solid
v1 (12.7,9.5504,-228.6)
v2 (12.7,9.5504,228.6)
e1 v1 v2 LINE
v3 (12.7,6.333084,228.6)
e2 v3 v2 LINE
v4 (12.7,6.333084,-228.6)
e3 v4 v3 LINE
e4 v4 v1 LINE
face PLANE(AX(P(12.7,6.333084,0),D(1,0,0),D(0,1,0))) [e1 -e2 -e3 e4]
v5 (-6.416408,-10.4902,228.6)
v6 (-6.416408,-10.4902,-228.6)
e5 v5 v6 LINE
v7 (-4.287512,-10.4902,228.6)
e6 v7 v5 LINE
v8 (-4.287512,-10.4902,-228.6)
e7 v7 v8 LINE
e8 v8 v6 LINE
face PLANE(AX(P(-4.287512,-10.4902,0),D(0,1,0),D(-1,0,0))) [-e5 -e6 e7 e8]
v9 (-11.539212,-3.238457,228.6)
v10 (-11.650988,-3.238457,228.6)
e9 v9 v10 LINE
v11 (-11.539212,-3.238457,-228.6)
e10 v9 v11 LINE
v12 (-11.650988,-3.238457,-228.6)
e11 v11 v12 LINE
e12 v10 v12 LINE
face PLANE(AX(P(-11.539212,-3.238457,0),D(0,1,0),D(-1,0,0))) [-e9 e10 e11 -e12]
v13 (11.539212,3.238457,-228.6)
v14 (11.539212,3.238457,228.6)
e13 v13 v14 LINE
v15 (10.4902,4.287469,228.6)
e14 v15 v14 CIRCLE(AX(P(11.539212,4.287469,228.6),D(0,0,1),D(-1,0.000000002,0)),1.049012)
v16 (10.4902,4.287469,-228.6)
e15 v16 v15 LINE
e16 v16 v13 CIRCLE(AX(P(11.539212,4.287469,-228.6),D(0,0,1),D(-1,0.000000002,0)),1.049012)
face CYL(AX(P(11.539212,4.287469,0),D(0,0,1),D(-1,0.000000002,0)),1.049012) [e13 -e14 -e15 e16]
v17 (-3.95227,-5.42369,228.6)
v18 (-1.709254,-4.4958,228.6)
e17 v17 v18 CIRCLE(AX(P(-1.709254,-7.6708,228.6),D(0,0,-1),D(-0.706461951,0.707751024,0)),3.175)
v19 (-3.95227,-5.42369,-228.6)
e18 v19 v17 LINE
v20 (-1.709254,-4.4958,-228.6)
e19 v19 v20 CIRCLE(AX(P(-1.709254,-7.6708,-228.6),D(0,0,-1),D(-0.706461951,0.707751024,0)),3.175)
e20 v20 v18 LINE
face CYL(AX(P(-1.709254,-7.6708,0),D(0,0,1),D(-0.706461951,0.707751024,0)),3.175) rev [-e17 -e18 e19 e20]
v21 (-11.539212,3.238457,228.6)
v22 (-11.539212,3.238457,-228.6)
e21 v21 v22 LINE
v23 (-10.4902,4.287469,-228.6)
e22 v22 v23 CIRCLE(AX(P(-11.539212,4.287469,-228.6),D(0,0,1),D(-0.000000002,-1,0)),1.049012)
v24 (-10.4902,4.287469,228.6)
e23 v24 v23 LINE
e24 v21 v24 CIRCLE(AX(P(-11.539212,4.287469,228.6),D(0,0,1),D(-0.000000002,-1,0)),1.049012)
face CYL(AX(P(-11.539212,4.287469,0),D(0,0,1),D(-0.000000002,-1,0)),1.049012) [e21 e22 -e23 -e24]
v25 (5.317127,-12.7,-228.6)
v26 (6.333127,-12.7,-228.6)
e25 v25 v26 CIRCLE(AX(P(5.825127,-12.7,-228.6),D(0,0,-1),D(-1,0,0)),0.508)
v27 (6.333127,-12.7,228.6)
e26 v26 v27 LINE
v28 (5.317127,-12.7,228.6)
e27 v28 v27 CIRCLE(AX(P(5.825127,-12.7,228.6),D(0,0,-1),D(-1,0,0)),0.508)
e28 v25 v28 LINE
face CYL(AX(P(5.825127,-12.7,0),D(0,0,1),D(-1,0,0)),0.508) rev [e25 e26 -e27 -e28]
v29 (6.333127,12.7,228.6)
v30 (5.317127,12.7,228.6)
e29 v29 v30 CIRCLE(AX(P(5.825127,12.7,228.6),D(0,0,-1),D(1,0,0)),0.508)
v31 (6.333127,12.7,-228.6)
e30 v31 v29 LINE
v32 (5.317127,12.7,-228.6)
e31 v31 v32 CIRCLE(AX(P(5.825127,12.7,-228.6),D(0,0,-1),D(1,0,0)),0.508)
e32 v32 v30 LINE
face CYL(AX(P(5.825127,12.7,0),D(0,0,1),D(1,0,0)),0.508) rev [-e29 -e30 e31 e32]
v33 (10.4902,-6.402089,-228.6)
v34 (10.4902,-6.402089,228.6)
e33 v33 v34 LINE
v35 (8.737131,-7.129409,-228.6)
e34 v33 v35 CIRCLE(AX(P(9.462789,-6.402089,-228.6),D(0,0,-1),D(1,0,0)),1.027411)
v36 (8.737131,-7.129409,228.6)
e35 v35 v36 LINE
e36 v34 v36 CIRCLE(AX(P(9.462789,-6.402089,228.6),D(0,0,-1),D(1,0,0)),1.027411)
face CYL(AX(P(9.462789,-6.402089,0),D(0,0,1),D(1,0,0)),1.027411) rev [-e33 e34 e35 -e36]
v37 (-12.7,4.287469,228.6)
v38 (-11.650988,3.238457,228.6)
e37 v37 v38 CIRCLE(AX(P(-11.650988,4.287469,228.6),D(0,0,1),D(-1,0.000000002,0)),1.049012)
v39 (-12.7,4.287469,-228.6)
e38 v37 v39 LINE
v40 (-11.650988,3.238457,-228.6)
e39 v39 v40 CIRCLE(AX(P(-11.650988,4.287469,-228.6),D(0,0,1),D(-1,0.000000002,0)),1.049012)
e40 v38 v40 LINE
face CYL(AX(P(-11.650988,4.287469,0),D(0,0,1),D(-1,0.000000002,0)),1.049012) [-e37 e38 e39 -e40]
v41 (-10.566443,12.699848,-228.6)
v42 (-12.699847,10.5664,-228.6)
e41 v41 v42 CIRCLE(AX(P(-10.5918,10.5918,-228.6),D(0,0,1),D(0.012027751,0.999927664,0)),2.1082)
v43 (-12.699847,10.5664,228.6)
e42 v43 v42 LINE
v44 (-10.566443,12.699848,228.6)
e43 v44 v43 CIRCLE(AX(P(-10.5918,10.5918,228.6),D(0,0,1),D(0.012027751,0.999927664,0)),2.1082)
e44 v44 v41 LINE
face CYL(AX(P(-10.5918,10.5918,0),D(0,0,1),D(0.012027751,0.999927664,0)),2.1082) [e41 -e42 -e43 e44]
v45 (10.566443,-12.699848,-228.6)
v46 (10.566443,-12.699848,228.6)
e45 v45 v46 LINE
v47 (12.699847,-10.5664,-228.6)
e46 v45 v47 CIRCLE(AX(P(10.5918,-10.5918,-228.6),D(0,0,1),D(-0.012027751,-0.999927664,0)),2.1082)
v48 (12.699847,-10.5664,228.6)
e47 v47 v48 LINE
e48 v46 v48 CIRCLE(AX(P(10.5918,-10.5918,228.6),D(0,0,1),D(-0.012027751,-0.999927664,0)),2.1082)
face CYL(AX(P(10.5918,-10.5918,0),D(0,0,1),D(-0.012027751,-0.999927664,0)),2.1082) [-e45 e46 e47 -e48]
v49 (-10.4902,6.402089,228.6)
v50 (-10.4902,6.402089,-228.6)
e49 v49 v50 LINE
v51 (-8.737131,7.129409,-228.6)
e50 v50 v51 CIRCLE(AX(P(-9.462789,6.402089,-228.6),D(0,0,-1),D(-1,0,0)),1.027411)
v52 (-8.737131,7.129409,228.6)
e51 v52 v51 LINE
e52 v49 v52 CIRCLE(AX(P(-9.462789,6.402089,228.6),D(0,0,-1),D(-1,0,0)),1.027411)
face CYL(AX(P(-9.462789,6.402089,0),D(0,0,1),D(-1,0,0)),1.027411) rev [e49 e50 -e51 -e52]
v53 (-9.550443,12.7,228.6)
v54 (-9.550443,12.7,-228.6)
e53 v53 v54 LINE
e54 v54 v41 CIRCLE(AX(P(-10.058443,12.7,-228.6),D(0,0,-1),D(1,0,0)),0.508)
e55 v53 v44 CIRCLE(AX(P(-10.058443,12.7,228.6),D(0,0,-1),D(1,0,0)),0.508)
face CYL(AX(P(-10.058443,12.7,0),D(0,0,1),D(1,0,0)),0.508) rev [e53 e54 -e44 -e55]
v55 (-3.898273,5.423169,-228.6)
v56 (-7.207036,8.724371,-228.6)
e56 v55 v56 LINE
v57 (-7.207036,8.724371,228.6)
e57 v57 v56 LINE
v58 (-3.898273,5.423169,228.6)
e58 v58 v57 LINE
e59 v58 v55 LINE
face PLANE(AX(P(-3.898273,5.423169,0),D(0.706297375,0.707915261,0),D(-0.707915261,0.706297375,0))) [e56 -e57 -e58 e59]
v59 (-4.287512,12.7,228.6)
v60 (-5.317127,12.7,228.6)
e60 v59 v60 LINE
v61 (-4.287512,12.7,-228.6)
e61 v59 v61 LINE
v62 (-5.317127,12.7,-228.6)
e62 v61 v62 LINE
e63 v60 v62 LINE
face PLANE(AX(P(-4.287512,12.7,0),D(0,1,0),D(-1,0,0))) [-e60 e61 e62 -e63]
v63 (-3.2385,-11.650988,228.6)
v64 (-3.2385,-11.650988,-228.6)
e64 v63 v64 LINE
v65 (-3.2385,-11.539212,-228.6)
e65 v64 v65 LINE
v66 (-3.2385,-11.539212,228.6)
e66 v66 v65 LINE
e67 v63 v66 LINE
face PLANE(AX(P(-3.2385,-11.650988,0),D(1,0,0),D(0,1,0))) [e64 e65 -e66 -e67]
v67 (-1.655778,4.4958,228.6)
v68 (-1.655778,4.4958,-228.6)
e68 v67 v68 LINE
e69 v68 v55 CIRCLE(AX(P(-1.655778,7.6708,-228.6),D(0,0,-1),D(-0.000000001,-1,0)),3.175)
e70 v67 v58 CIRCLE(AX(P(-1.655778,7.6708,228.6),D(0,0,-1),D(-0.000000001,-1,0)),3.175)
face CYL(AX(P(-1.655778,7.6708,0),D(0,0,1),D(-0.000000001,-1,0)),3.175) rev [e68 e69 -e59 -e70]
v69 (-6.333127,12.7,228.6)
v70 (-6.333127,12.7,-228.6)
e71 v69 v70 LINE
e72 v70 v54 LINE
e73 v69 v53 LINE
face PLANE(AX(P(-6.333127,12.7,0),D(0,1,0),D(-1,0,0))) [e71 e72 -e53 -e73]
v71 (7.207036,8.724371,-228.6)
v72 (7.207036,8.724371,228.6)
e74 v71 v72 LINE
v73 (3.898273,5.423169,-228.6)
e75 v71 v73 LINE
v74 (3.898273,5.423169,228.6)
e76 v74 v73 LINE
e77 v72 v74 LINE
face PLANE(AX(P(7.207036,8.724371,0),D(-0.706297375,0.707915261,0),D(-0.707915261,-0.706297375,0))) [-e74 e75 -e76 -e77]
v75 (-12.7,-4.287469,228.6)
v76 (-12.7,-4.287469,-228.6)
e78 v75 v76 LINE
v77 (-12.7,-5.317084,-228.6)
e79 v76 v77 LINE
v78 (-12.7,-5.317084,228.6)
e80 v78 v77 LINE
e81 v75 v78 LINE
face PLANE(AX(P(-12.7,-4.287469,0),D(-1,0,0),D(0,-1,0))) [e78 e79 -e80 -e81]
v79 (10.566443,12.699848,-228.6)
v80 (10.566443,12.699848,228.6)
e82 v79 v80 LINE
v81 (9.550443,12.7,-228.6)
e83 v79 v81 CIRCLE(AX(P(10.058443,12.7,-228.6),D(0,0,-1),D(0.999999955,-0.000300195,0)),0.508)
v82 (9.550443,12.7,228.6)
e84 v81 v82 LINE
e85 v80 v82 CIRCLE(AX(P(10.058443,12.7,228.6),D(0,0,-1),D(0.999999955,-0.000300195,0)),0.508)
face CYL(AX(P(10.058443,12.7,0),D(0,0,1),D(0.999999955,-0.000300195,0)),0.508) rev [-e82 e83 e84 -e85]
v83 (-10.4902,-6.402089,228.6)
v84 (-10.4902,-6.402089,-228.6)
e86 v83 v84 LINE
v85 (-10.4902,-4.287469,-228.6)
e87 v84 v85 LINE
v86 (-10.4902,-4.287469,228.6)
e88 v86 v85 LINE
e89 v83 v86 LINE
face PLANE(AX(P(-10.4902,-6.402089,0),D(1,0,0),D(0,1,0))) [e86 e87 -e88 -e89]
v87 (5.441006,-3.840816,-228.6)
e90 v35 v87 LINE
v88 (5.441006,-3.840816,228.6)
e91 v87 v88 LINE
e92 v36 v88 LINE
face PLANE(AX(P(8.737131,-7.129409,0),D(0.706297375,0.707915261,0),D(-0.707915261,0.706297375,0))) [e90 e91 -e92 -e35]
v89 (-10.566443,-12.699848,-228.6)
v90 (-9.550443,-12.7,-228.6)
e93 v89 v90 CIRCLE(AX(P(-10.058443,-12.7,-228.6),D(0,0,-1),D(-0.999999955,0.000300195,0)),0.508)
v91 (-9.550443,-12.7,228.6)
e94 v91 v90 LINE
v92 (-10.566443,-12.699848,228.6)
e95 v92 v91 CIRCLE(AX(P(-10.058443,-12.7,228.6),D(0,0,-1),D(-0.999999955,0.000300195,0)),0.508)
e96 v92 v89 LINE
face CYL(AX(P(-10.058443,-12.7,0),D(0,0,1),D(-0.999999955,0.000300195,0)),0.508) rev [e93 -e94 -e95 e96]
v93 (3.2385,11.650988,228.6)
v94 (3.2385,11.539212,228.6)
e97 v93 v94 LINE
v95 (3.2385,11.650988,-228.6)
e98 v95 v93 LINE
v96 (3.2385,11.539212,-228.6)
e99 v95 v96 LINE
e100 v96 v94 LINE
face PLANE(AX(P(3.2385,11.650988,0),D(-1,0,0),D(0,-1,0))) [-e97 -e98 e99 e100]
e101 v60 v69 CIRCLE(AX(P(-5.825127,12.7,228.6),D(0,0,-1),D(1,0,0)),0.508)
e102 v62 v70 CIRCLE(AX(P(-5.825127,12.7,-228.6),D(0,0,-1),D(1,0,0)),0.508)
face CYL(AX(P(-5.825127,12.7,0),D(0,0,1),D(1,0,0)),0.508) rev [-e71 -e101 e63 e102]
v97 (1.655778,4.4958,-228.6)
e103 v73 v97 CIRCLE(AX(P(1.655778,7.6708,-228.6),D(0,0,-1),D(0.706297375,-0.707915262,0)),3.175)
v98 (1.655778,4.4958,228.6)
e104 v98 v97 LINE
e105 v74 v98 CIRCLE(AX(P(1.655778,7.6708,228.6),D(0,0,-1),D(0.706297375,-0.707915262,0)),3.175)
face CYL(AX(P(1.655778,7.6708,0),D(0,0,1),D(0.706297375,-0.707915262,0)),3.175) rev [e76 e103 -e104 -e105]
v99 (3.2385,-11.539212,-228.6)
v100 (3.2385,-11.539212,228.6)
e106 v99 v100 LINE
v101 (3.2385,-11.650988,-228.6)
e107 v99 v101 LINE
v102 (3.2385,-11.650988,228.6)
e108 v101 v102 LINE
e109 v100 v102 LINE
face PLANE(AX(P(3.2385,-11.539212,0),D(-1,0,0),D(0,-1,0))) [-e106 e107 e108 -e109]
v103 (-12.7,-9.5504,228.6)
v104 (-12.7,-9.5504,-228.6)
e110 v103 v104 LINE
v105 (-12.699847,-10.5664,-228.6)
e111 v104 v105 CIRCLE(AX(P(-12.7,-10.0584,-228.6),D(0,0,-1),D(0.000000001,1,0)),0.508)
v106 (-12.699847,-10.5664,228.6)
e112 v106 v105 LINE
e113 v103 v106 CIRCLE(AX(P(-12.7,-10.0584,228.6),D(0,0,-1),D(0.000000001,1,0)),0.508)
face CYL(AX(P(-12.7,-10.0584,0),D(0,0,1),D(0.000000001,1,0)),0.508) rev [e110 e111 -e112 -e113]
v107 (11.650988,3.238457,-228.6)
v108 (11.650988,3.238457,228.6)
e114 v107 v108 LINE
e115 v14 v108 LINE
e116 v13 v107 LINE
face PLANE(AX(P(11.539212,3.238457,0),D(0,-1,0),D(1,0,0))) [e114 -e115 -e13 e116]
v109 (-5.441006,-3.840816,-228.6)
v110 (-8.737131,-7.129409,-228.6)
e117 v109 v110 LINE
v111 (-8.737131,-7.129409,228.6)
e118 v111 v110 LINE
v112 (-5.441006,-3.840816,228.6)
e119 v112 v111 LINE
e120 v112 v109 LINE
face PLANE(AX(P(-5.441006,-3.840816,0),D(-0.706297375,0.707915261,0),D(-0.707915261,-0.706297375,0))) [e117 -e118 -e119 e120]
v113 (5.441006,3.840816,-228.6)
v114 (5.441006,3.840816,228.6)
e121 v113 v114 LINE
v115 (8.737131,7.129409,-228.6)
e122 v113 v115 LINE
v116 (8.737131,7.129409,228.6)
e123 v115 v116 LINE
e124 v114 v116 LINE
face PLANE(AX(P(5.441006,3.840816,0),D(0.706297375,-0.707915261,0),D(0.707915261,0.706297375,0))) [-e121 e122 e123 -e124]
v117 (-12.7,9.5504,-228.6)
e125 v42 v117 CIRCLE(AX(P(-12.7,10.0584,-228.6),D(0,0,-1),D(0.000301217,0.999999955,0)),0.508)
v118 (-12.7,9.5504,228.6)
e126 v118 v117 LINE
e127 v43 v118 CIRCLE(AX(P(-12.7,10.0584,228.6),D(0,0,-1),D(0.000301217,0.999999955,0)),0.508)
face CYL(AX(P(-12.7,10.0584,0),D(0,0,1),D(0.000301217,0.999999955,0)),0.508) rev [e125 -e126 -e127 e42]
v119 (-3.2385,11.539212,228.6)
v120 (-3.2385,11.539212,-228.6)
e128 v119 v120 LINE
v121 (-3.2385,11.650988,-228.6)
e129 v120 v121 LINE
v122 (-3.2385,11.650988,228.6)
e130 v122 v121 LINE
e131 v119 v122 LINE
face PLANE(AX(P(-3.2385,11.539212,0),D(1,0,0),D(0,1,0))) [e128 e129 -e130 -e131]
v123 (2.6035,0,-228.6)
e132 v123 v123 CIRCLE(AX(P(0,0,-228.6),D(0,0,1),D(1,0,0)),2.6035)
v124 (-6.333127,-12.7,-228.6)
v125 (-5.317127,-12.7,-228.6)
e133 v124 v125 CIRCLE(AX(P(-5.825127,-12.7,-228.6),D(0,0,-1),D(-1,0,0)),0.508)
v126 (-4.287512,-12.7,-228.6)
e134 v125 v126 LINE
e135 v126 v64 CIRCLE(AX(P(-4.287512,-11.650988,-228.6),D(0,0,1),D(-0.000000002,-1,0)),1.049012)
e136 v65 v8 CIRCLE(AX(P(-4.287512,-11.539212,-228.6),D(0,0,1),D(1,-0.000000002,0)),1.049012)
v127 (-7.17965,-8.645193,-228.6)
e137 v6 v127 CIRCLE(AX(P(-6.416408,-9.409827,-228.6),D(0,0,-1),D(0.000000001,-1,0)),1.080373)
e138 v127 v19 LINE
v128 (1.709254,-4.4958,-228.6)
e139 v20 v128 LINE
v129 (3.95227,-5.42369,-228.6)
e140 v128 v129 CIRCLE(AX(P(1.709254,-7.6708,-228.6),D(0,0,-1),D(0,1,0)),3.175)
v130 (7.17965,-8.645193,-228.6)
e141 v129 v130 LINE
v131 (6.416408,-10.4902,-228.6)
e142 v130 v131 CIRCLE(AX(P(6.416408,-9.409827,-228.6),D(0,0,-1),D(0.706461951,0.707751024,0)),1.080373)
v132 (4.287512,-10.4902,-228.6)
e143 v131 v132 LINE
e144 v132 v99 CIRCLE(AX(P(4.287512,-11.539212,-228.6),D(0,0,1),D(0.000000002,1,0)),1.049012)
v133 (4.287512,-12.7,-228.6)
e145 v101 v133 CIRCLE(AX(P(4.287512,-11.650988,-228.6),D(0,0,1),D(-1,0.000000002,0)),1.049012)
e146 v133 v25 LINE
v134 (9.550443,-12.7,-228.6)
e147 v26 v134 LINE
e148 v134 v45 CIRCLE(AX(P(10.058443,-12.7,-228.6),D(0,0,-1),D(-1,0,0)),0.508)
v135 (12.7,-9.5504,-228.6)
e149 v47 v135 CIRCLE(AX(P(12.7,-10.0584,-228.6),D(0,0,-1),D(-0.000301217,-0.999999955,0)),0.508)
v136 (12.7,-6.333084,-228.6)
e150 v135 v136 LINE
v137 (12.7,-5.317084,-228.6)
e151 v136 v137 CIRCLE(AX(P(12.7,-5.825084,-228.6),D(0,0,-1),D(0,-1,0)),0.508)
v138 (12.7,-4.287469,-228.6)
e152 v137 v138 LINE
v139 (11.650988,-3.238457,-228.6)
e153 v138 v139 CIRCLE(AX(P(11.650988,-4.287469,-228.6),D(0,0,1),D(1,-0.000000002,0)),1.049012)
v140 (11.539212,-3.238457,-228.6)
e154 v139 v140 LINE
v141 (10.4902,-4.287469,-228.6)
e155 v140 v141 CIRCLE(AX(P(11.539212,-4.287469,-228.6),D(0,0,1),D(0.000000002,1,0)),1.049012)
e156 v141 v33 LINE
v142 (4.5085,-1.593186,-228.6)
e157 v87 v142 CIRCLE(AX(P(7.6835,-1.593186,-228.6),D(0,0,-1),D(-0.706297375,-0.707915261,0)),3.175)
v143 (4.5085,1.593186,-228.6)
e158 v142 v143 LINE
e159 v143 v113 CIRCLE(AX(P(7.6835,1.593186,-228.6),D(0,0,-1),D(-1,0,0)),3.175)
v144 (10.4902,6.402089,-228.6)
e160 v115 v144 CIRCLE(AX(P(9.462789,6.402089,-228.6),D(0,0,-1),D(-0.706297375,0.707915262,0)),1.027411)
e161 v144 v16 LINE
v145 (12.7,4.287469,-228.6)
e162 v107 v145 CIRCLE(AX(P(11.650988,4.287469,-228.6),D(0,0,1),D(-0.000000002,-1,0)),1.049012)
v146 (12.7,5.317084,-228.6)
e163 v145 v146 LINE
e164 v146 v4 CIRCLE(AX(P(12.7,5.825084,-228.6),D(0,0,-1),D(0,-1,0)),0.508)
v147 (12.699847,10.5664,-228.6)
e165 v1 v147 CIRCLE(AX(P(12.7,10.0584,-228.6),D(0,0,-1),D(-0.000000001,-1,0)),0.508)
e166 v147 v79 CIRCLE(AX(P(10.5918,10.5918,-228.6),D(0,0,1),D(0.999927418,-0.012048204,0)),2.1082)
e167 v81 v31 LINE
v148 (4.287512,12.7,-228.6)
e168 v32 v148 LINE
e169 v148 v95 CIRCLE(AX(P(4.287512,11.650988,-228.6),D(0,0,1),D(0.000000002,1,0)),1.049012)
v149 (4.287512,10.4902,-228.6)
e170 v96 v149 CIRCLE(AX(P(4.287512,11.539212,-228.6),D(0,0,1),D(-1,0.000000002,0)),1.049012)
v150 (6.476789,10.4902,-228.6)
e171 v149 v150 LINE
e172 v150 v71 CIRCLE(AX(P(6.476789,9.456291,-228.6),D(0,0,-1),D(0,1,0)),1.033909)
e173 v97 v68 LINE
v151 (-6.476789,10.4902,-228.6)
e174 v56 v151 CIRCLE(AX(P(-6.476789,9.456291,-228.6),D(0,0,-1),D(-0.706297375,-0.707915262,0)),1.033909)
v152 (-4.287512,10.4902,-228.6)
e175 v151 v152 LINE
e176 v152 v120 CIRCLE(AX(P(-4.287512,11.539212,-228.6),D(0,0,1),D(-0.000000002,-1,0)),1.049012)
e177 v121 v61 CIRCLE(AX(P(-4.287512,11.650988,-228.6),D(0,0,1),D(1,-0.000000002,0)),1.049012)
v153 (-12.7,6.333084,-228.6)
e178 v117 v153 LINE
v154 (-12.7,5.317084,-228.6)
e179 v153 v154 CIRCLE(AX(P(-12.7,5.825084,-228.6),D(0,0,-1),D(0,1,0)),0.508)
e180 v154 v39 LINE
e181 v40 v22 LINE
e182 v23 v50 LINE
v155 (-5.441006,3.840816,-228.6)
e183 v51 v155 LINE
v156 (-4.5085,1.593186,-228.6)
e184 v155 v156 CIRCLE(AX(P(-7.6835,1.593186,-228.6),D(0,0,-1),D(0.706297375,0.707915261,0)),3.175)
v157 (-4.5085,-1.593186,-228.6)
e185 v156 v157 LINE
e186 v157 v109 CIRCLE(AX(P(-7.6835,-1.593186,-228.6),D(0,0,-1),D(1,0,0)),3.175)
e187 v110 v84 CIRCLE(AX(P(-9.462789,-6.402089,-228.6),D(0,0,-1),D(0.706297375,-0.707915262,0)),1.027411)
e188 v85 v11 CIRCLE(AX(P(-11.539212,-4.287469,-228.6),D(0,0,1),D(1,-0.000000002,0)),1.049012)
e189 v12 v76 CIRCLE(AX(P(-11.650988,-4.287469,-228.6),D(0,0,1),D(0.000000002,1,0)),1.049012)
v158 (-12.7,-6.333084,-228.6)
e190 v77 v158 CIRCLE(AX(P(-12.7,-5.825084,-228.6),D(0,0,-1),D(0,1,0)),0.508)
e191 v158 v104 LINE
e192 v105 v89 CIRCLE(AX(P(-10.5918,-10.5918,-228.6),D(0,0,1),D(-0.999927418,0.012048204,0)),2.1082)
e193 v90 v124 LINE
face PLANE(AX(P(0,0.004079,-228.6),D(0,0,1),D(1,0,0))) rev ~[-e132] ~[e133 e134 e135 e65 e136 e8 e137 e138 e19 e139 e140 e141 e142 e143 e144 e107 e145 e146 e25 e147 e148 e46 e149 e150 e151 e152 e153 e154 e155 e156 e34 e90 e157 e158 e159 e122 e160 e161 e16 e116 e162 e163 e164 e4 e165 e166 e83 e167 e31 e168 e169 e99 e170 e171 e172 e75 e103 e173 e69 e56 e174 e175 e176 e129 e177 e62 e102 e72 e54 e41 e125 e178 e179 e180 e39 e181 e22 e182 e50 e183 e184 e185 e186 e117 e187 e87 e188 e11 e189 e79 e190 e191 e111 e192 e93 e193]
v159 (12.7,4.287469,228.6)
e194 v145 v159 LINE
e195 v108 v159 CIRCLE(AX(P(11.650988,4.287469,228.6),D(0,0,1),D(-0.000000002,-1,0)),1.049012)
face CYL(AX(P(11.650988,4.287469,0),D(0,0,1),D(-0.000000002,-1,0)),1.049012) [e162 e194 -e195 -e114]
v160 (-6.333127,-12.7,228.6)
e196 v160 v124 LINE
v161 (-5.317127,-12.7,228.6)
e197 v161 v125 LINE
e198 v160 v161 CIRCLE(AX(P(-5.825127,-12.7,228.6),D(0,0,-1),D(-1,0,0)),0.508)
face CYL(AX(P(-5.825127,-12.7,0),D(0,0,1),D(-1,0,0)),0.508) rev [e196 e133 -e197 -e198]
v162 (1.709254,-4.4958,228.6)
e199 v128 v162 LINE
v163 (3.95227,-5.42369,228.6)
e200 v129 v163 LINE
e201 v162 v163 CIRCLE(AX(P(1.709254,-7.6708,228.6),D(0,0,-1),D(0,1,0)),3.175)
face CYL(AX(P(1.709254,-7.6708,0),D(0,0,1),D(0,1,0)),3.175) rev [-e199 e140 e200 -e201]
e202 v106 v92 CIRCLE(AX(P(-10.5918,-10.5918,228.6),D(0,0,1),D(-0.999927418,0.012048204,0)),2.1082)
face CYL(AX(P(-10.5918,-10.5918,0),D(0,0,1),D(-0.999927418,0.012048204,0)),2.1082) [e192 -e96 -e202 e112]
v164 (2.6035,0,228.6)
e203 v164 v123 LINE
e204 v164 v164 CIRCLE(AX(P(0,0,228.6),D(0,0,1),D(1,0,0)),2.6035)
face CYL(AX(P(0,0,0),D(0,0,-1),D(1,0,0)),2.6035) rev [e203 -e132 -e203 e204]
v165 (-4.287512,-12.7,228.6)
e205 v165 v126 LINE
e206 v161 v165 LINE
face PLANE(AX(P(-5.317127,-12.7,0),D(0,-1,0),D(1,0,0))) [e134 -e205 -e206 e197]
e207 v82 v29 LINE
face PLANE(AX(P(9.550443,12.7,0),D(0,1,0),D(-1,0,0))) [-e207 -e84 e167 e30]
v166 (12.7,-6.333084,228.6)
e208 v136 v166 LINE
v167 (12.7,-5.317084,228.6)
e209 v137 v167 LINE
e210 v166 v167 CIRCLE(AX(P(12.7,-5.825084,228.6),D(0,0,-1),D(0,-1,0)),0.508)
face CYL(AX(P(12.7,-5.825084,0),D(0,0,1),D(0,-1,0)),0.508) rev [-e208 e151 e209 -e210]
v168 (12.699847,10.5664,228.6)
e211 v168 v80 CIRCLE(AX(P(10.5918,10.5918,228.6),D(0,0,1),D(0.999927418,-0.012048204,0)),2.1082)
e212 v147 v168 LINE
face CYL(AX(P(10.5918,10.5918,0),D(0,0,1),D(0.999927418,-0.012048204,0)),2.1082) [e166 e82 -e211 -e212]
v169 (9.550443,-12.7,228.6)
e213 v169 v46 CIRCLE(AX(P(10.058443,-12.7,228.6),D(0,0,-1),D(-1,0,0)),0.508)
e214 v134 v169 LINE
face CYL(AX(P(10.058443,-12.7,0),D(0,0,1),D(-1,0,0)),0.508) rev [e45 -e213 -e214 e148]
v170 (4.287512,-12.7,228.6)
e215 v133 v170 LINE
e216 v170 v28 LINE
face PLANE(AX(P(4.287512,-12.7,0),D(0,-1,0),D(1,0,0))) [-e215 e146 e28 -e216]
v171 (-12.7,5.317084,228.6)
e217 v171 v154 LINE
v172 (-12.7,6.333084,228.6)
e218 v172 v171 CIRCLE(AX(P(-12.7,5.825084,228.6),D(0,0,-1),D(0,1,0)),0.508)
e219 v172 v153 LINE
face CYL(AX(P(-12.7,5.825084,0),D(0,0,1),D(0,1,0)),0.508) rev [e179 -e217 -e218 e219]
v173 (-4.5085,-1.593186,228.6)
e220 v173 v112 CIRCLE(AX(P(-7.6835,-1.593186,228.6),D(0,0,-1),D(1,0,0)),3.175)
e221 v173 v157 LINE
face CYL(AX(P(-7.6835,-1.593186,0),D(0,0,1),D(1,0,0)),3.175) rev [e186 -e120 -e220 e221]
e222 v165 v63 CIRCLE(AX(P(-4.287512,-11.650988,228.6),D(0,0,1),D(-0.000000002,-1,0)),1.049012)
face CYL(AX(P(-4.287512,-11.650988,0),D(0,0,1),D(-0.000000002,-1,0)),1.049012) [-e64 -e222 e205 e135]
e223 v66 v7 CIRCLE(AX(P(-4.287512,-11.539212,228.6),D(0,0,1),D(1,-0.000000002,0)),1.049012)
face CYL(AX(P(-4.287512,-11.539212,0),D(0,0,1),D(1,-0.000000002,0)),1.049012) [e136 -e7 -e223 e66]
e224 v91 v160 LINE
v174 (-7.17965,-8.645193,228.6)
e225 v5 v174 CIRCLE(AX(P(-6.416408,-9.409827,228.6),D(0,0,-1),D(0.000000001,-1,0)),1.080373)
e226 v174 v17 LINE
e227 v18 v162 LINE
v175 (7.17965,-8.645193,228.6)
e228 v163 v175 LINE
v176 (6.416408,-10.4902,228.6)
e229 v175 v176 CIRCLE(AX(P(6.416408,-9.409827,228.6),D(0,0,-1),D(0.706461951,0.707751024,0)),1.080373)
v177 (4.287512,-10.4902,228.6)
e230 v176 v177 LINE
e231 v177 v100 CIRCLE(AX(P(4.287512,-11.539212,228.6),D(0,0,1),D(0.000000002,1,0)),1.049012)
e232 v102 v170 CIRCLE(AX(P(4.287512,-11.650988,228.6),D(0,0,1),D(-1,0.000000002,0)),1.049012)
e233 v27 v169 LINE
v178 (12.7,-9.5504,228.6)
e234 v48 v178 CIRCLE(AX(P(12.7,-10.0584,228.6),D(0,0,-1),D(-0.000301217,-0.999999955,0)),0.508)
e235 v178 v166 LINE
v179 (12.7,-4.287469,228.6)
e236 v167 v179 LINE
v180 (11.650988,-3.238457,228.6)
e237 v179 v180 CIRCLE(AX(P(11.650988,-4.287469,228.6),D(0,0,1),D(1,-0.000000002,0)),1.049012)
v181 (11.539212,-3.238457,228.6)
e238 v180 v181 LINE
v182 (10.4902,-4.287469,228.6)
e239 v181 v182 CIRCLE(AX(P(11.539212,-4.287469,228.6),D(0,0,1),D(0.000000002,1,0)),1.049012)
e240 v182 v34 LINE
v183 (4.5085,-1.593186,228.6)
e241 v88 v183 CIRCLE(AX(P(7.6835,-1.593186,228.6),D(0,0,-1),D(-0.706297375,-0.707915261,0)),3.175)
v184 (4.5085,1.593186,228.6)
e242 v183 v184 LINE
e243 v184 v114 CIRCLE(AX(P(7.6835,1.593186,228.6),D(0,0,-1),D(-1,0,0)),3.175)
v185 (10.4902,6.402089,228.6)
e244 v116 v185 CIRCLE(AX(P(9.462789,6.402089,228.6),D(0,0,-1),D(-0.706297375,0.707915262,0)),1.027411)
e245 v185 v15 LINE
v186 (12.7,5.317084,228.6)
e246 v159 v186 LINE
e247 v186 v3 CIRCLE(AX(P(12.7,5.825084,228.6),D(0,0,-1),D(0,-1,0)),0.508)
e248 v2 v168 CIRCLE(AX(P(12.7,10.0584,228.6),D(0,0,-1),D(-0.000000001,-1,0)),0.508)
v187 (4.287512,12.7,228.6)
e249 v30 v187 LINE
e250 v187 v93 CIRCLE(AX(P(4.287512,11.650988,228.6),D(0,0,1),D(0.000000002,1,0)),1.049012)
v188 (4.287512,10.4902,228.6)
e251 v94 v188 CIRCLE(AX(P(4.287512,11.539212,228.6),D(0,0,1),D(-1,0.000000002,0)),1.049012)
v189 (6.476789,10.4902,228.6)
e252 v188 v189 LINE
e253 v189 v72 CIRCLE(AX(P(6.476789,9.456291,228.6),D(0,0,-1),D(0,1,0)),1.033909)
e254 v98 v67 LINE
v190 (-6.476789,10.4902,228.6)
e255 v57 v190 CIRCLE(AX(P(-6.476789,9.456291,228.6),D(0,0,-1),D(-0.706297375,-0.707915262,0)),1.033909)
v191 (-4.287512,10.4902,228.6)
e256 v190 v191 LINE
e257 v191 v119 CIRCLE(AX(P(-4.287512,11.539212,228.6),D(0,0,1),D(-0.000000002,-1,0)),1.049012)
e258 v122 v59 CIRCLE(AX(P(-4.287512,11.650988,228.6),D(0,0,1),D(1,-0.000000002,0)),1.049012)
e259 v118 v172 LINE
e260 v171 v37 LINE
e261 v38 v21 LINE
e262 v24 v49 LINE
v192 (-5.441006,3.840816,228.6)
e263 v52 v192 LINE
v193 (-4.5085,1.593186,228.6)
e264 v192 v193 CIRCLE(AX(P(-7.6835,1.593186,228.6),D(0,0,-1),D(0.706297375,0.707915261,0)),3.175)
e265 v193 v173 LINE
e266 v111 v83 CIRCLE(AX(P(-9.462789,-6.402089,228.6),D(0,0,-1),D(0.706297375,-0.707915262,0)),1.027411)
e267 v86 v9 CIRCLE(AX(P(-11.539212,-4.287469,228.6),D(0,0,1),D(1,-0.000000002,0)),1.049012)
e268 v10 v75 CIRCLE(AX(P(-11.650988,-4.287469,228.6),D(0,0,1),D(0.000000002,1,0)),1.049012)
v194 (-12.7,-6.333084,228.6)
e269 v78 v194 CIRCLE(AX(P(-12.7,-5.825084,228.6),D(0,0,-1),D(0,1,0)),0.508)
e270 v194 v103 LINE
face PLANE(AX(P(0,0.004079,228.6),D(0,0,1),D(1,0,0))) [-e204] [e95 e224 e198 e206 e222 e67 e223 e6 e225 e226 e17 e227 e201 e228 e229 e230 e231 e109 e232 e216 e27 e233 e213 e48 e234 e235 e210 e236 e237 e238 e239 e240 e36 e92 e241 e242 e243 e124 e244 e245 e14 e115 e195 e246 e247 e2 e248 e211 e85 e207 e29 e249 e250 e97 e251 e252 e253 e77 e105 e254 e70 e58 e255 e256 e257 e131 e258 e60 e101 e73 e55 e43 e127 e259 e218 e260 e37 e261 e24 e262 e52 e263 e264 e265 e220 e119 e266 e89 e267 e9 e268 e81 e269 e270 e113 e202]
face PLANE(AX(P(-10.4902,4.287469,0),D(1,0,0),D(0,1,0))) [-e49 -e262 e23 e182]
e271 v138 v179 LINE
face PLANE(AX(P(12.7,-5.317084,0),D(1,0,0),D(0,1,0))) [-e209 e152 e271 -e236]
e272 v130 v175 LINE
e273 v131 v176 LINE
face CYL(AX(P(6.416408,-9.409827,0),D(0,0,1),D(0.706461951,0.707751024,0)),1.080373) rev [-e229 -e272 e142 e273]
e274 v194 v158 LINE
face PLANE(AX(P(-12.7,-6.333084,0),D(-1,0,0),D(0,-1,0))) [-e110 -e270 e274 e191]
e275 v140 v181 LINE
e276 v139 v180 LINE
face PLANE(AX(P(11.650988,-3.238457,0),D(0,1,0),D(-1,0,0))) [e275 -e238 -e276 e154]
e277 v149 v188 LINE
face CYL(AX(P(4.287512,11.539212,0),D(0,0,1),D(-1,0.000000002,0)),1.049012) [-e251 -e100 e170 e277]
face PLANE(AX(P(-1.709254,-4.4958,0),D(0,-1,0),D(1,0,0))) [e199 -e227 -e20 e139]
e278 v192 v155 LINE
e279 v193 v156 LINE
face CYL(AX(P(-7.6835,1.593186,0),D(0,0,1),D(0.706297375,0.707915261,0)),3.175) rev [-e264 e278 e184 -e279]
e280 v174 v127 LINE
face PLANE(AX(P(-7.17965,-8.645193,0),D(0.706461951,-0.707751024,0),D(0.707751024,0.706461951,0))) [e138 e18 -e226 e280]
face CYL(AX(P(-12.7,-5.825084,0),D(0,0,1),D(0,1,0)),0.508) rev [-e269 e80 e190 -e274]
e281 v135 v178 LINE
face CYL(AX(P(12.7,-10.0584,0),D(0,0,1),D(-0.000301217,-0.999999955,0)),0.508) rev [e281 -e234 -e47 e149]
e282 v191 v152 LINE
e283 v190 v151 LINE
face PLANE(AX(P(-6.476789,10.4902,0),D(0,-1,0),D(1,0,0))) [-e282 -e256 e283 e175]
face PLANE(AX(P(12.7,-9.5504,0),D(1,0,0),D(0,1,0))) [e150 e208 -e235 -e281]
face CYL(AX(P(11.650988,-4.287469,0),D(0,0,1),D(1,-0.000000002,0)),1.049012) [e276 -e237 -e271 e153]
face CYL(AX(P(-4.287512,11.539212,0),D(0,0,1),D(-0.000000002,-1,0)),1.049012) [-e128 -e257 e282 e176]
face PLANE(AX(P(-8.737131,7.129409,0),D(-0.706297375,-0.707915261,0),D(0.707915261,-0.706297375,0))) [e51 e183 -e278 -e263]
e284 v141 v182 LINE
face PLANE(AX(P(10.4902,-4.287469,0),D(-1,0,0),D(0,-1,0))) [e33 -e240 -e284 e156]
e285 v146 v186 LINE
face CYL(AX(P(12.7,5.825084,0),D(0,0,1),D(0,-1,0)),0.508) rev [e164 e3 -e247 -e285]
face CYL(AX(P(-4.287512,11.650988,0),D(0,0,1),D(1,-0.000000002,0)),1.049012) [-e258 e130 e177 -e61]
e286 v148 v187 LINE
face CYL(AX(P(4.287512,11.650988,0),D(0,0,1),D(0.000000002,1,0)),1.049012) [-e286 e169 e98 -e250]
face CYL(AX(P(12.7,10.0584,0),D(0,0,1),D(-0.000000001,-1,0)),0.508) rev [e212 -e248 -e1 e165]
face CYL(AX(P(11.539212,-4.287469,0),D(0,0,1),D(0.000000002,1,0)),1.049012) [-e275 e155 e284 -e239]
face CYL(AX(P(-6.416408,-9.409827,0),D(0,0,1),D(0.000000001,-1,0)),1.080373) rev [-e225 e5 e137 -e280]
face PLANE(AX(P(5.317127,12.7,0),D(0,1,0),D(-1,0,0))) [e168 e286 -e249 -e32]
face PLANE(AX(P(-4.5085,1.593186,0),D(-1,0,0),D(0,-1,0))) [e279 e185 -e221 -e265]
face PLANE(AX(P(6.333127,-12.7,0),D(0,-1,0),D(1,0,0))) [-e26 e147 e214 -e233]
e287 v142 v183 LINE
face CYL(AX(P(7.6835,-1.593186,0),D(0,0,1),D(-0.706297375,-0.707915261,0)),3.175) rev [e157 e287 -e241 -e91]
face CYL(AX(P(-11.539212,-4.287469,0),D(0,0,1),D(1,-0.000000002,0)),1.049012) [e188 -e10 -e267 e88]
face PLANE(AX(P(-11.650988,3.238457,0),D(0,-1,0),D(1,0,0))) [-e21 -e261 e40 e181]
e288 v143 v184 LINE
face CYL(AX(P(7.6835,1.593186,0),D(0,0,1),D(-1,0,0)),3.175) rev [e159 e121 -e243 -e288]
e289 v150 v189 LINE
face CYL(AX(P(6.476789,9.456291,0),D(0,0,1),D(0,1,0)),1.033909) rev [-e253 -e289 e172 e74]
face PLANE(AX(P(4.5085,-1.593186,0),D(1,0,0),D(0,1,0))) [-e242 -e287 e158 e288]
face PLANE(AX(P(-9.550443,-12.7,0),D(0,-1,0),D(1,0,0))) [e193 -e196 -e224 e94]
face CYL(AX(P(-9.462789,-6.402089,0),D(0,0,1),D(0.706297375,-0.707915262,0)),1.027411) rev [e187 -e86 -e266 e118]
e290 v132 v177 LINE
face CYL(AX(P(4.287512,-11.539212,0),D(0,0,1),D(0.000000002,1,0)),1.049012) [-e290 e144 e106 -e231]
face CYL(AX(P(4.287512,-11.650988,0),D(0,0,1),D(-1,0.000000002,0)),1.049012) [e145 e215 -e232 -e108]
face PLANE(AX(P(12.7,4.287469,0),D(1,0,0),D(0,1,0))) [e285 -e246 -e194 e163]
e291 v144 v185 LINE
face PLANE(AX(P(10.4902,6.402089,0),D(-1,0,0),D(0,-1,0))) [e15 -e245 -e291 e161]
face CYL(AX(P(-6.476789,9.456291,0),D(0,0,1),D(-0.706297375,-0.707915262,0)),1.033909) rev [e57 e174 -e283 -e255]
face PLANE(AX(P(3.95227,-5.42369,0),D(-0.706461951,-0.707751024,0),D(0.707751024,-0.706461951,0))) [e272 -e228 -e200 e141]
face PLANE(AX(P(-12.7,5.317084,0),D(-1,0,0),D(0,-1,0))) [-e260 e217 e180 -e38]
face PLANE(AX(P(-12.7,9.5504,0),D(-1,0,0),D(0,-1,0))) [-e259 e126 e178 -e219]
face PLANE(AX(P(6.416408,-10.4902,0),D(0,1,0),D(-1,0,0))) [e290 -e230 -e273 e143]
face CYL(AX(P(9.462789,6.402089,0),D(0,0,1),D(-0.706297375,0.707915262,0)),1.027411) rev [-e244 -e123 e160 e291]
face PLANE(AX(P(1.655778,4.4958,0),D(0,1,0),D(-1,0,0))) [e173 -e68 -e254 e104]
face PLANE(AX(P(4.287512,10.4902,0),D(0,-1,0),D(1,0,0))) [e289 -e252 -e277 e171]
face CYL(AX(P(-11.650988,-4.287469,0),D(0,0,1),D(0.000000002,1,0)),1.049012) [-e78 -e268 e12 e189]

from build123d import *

# Parameters (mm, degrees)
SKETCH1_R           = 2.6035
BOSS_EXTRUDE1_DEPTH = 228.6


with BuildPart() as part:
    # Sketch1 → Boss-Extrude1 (new body, symmetric)
    with BuildSketch(Plane.XY):
        with BuildLine():
            Line((-7.179650497, -8.645192506), (-3.952270251, -5.423690499))
            ThreePointArc((-3.952270251, -5.423690499), (-2.922936451, -4.736929036), (-1.709253557, -4.4958))
            Line((-1.709253557, -4.4958), (1.709253557, -4.4958))
            ThreePointArc((1.709253557, -4.4958), (2.922936451, -4.736929036), (3.952270251, -5.423690499))
            Line((3.952270251, -5.423690499), (7.179650497, -8.645192506))
            ThreePointArc((7.179650497, -8.645192506), (7.41473083, -9.822813117), (6.416408329, -10.4902))
            Line((6.416408329, -10.4902), (4.287512407, -10.4902))
            ThreePointArc((4.287512407, -10.4902), (3.54574862, -10.79744862), (3.2385, -11.539212407))
            Line((3.2385, -11.539212407), (3.2385, -11.650987593))
            ThreePointArc((3.2385, -11.650987593), (3.54574862, -12.39275138), (4.287512407, -12.7))
            Line((4.287512407, -12.7), (5.317126718, -12.7))
            ThreePointArc((5.317126718, -12.7), (5.825126718, -12.192), (6.333126718, -12.7))
            Line((6.333126718, -12.7), (9.550443118, -12.7))
            ThreePointArc((9.550443118, -12.7), (10.058366869, -12.192000006), (10.566443095, -12.699847501))
            ThreePointArc((10.566443095, -12.699847501), (12.082537762, -12.08250727), (12.699846982, -10.566399977))
            ThreePointArc((12.699846982, -10.566399977), (12.192000006, -10.058323491), (12.7, -9.5504))
            Line((12.7, -9.5504), (12.7, -6.3330836))
            ThreePointArc((12.7, -6.3330836), (12.192, -5.8250836), (12.7, -5.3170836))
            Line((12.7, -5.3170836), (12.7, -4.287469289))
            ThreePointArc((12.7, -4.287469289), (12.39275138, -3.545705502), (11.650987593, -3.238456882))
            Line((11.650987593, -3.238456882), (11.539212407, -3.238456882))
            ThreePointArc((11.539212407, -3.238456882), (10.79744862, -3.545705502), (10.4902, -4.287469289))
            Line((10.4902, -4.287469289), (10.4902, -6.402089023))
            ThreePointArc((10.4902, -6.402089023), (9.856505071, -7.351067942), (8.737131347, -7.129408934))
            Line((8.737131347, -7.129408934), (5.441005833, -3.840816462))
            ThreePointArc((5.441005833, -3.840816462), (4.750877967, -2.809883091), (4.5085, -1.593185507))
            Line((4.5085, -1.593185507), (4.5085, 1.593185507))
            ThreePointArc((4.5085, 1.593185507), (4.750877967, 2.809883091), (5.441005833, 3.840816462))
            Line((5.441005833, 3.840816462), (8.737131347, 7.129408934))
            ThreePointArc((8.737131347, 7.129408934), (9.856505071, 7.351067942), (10.4902, 6.402089023))
            Line((10.4902, 6.402089023), (10.4902, 4.287469289))
            ThreePointArc((10.4902, 4.287469289), (10.79744862, 3.545705502), (11.539212407, 3.238456882))
            Line((11.539212407, 3.238456882), (11.650987593, 3.238456882))
            ThreePointArc((11.650987593, 3.238456882), (12.39275138, 3.545705502), (12.7, 4.287469289))
            Line((12.7, 4.287469289), (12.7, 5.3170836))
            ThreePointArc((12.7, 5.3170836), (12.192, 5.8250836), (12.7, 6.3330836))
            Line((12.7, 6.3330836), (12.7, 9.5504))
            ThreePointArc((12.7, 9.5504), (12.192000006, 10.058323491), (12.699846982, 10.566399977))
            ThreePointArc((12.699846982, 10.566399977), (12.082537762, 12.08250727), (10.566443095, 12.699847501))
            ThreePointArc((10.566443095, 12.699847501), (10.058366869, 12.192000006), (9.550443118, 12.7))
            Line((9.550443118, 12.7), (6.333126718, 12.7))
            ThreePointArc((6.333126718, 12.7), (5.825126718, 12.192), (5.317126718, 12.7))
            Line((5.317126718, 12.7), (4.287512407, 12.7))
            ThreePointArc((4.287512407, 12.7), (3.54574862, 12.39275138), (3.2385, 11.650987593))
            Line((3.2385, 11.650987593), (3.2385, 11.539212407))
            ThreePointArc((3.2385, 11.539212407), (3.54574862, 10.79744862), (4.287512407, 10.4902))
            Line((4.287512407, 10.4902), (6.476788598, 10.4902))
            ThreePointArc((6.476788598, 10.4902), (7.432222385, 9.85140422), (7.207036008, 8.724370562))
            Line((7.207036008, 8.724370562), (3.898272566, 5.423169045))
            ThreePointArc((3.898272566, 5.423169045), (2.869120213, 4.736787962), (1.655778399, 4.4958))
            Line((1.655778399, 4.4958), (-1.655778399, 4.4958))
            ThreePointArc((-1.655778399, 4.4958), (-2.869120213, 4.736787962), (-3.898272566, 5.423169045))
            Line((-3.898272566, 5.423169045), (-7.207036008, 8.724370562))
            ThreePointArc((-7.207036008, 8.724370562), (-7.432222385, 9.85140422), (-6.476788598, 10.4902))
            Line((-6.476788598, 10.4902), (-4.287512407, 10.4902))
            ThreePointArc((-4.287512407, 10.4902), (-3.54574862, 10.79744862), (-3.2385, 11.539212407))
            Line((-3.2385, 11.539212407), (-3.2385, 11.650987593))
            ThreePointArc((-3.2385, 11.650987593), (-3.54574862, 12.39275138), (-4.287512407, 12.7))
            Line((-4.287512407, 12.7), (-5.317126718, 12.7))
            ThreePointArc((-5.317126718, 12.7), (-5.825126718, 12.192), (-6.333126718, 12.7))
            Line((-6.333126718, 12.7), (-9.550443118, 12.7))
            ThreePointArc((-9.550443118, 12.7), (-10.058366869, 12.192000006), (-10.566443095, 12.699847501))
            ThreePointArc((-10.566443095, 12.699847501), (-12.082537762, 12.08250727), (-12.699846982, 10.566399977))
            ThreePointArc((-12.699846982, 10.566399977), (-12.192000006, 10.058323491), (-12.7, 9.5504))
            Line((-12.7, 9.5504), (-12.7, 6.3330836))
            ThreePointArc((-12.7, 6.3330836), (-12.192, 5.8250836), (-12.7, 5.3170836))
            Line((-12.7, 5.3170836), (-12.7, 4.287469289))
            ThreePointArc((-12.7, 4.287469289), (-12.39275138, 3.545705502), (-11.650987593, 3.238456882))
            Line((-11.650987593, 3.238456882), (-11.539212407, 3.238456882))
            ThreePointArc((-11.539212407, 3.238456882), (-10.79744862, 3.545705502), (-10.4902, 4.287469289))
            Line((-10.4902, 4.287469289), (-10.4902, 6.402089023))
            ThreePointArc((-10.4902, 6.402089023), (-9.856505071, 7.351067942), (-8.737131347, 7.129408934))
            Line((-8.737131347, 7.129408934), (-5.441005833, 3.840816462))
            ThreePointArc((-5.441005833, 3.840816462), (-4.750877967, 2.809883091), (-4.5085, 1.593185507))
            Line((-4.5085, 1.593185507), (-4.5085, -1.593185507))
            ThreePointArc((-4.5085, -1.593185507), (-4.750877967, -2.809883091), (-5.441005833, -3.840816462))
            Line((-5.441005833, -3.840816462), (-8.737131347, -7.129408934))
            ThreePointArc((-8.737131347, -7.129408934), (-9.856505071, -7.351067942), (-10.4902, -6.402089023))
            Line((-10.4902, -6.402089023), (-10.4902, -4.287469289))
            ThreePointArc((-10.4902, -4.287469289), (-10.79744862, -3.545705502), (-11.539212407, -3.238456882))
            Line((-11.539212407, -3.238456882), (-11.650987593, -3.238456882))
            ThreePointArc((-11.650987593, -3.238456882), (-12.39275138, -3.545705502), (-12.7, -4.287469289))
            Line((-12.7, -4.287469289), (-12.7, -5.3170836))
            ThreePointArc((-12.7, -5.3170836), (-12.192, -5.8250836), (-12.7, -6.3330836))
            Line((-12.7, -6.3330836), (-12.7, -9.5504))
            ThreePointArc((-12.7, -9.5504), (-12.192000006, -10.058323491), (-12.699846982, -10.566399977))
            ThreePointArc((-12.699846982, -10.566399977), (-12.082537762, -12.08250727), (-10.566443095, -12.699847501))
            ThreePointArc((-10.566443095, -12.699847501), (-10.058366869, -12.192000006), (-9.550443118, -12.7))
            Line((-9.550443118, -12.7), (-6.333126718, -12.7))
            ThreePointArc((-6.333126718, -12.7), (-5.825126718, -12.192), (-5.317126718, -12.7))
            Line((-5.317126718, -12.7), (-4.287512407, -12.7))
            ThreePointArc((-4.287512407, -12.7), (-3.54574862, -12.39275138), (-3.2385, -11.650987593))
            Line((-3.2385, -11.650987593), (-3.2385, -11.539212407))
            ThreePointArc((-3.2385, -11.539212407), (-3.54574862, -10.79744862), (-4.287512407, -10.4902))
            Line((-4.287512407, -10.4902), (-6.416408329, -10.4902))
            ThreePointArc((-6.416408329, -10.4902), (-7.41473083, -9.822813117), (-7.179650497, -8.645192506))
        make_face()
        Circle(SKETCH1_R, mode=Mode.SUBTRACT)
    extrude(amount=BOSS_EXTRUDE1_DEPTH, both=True)


solid = part.part
